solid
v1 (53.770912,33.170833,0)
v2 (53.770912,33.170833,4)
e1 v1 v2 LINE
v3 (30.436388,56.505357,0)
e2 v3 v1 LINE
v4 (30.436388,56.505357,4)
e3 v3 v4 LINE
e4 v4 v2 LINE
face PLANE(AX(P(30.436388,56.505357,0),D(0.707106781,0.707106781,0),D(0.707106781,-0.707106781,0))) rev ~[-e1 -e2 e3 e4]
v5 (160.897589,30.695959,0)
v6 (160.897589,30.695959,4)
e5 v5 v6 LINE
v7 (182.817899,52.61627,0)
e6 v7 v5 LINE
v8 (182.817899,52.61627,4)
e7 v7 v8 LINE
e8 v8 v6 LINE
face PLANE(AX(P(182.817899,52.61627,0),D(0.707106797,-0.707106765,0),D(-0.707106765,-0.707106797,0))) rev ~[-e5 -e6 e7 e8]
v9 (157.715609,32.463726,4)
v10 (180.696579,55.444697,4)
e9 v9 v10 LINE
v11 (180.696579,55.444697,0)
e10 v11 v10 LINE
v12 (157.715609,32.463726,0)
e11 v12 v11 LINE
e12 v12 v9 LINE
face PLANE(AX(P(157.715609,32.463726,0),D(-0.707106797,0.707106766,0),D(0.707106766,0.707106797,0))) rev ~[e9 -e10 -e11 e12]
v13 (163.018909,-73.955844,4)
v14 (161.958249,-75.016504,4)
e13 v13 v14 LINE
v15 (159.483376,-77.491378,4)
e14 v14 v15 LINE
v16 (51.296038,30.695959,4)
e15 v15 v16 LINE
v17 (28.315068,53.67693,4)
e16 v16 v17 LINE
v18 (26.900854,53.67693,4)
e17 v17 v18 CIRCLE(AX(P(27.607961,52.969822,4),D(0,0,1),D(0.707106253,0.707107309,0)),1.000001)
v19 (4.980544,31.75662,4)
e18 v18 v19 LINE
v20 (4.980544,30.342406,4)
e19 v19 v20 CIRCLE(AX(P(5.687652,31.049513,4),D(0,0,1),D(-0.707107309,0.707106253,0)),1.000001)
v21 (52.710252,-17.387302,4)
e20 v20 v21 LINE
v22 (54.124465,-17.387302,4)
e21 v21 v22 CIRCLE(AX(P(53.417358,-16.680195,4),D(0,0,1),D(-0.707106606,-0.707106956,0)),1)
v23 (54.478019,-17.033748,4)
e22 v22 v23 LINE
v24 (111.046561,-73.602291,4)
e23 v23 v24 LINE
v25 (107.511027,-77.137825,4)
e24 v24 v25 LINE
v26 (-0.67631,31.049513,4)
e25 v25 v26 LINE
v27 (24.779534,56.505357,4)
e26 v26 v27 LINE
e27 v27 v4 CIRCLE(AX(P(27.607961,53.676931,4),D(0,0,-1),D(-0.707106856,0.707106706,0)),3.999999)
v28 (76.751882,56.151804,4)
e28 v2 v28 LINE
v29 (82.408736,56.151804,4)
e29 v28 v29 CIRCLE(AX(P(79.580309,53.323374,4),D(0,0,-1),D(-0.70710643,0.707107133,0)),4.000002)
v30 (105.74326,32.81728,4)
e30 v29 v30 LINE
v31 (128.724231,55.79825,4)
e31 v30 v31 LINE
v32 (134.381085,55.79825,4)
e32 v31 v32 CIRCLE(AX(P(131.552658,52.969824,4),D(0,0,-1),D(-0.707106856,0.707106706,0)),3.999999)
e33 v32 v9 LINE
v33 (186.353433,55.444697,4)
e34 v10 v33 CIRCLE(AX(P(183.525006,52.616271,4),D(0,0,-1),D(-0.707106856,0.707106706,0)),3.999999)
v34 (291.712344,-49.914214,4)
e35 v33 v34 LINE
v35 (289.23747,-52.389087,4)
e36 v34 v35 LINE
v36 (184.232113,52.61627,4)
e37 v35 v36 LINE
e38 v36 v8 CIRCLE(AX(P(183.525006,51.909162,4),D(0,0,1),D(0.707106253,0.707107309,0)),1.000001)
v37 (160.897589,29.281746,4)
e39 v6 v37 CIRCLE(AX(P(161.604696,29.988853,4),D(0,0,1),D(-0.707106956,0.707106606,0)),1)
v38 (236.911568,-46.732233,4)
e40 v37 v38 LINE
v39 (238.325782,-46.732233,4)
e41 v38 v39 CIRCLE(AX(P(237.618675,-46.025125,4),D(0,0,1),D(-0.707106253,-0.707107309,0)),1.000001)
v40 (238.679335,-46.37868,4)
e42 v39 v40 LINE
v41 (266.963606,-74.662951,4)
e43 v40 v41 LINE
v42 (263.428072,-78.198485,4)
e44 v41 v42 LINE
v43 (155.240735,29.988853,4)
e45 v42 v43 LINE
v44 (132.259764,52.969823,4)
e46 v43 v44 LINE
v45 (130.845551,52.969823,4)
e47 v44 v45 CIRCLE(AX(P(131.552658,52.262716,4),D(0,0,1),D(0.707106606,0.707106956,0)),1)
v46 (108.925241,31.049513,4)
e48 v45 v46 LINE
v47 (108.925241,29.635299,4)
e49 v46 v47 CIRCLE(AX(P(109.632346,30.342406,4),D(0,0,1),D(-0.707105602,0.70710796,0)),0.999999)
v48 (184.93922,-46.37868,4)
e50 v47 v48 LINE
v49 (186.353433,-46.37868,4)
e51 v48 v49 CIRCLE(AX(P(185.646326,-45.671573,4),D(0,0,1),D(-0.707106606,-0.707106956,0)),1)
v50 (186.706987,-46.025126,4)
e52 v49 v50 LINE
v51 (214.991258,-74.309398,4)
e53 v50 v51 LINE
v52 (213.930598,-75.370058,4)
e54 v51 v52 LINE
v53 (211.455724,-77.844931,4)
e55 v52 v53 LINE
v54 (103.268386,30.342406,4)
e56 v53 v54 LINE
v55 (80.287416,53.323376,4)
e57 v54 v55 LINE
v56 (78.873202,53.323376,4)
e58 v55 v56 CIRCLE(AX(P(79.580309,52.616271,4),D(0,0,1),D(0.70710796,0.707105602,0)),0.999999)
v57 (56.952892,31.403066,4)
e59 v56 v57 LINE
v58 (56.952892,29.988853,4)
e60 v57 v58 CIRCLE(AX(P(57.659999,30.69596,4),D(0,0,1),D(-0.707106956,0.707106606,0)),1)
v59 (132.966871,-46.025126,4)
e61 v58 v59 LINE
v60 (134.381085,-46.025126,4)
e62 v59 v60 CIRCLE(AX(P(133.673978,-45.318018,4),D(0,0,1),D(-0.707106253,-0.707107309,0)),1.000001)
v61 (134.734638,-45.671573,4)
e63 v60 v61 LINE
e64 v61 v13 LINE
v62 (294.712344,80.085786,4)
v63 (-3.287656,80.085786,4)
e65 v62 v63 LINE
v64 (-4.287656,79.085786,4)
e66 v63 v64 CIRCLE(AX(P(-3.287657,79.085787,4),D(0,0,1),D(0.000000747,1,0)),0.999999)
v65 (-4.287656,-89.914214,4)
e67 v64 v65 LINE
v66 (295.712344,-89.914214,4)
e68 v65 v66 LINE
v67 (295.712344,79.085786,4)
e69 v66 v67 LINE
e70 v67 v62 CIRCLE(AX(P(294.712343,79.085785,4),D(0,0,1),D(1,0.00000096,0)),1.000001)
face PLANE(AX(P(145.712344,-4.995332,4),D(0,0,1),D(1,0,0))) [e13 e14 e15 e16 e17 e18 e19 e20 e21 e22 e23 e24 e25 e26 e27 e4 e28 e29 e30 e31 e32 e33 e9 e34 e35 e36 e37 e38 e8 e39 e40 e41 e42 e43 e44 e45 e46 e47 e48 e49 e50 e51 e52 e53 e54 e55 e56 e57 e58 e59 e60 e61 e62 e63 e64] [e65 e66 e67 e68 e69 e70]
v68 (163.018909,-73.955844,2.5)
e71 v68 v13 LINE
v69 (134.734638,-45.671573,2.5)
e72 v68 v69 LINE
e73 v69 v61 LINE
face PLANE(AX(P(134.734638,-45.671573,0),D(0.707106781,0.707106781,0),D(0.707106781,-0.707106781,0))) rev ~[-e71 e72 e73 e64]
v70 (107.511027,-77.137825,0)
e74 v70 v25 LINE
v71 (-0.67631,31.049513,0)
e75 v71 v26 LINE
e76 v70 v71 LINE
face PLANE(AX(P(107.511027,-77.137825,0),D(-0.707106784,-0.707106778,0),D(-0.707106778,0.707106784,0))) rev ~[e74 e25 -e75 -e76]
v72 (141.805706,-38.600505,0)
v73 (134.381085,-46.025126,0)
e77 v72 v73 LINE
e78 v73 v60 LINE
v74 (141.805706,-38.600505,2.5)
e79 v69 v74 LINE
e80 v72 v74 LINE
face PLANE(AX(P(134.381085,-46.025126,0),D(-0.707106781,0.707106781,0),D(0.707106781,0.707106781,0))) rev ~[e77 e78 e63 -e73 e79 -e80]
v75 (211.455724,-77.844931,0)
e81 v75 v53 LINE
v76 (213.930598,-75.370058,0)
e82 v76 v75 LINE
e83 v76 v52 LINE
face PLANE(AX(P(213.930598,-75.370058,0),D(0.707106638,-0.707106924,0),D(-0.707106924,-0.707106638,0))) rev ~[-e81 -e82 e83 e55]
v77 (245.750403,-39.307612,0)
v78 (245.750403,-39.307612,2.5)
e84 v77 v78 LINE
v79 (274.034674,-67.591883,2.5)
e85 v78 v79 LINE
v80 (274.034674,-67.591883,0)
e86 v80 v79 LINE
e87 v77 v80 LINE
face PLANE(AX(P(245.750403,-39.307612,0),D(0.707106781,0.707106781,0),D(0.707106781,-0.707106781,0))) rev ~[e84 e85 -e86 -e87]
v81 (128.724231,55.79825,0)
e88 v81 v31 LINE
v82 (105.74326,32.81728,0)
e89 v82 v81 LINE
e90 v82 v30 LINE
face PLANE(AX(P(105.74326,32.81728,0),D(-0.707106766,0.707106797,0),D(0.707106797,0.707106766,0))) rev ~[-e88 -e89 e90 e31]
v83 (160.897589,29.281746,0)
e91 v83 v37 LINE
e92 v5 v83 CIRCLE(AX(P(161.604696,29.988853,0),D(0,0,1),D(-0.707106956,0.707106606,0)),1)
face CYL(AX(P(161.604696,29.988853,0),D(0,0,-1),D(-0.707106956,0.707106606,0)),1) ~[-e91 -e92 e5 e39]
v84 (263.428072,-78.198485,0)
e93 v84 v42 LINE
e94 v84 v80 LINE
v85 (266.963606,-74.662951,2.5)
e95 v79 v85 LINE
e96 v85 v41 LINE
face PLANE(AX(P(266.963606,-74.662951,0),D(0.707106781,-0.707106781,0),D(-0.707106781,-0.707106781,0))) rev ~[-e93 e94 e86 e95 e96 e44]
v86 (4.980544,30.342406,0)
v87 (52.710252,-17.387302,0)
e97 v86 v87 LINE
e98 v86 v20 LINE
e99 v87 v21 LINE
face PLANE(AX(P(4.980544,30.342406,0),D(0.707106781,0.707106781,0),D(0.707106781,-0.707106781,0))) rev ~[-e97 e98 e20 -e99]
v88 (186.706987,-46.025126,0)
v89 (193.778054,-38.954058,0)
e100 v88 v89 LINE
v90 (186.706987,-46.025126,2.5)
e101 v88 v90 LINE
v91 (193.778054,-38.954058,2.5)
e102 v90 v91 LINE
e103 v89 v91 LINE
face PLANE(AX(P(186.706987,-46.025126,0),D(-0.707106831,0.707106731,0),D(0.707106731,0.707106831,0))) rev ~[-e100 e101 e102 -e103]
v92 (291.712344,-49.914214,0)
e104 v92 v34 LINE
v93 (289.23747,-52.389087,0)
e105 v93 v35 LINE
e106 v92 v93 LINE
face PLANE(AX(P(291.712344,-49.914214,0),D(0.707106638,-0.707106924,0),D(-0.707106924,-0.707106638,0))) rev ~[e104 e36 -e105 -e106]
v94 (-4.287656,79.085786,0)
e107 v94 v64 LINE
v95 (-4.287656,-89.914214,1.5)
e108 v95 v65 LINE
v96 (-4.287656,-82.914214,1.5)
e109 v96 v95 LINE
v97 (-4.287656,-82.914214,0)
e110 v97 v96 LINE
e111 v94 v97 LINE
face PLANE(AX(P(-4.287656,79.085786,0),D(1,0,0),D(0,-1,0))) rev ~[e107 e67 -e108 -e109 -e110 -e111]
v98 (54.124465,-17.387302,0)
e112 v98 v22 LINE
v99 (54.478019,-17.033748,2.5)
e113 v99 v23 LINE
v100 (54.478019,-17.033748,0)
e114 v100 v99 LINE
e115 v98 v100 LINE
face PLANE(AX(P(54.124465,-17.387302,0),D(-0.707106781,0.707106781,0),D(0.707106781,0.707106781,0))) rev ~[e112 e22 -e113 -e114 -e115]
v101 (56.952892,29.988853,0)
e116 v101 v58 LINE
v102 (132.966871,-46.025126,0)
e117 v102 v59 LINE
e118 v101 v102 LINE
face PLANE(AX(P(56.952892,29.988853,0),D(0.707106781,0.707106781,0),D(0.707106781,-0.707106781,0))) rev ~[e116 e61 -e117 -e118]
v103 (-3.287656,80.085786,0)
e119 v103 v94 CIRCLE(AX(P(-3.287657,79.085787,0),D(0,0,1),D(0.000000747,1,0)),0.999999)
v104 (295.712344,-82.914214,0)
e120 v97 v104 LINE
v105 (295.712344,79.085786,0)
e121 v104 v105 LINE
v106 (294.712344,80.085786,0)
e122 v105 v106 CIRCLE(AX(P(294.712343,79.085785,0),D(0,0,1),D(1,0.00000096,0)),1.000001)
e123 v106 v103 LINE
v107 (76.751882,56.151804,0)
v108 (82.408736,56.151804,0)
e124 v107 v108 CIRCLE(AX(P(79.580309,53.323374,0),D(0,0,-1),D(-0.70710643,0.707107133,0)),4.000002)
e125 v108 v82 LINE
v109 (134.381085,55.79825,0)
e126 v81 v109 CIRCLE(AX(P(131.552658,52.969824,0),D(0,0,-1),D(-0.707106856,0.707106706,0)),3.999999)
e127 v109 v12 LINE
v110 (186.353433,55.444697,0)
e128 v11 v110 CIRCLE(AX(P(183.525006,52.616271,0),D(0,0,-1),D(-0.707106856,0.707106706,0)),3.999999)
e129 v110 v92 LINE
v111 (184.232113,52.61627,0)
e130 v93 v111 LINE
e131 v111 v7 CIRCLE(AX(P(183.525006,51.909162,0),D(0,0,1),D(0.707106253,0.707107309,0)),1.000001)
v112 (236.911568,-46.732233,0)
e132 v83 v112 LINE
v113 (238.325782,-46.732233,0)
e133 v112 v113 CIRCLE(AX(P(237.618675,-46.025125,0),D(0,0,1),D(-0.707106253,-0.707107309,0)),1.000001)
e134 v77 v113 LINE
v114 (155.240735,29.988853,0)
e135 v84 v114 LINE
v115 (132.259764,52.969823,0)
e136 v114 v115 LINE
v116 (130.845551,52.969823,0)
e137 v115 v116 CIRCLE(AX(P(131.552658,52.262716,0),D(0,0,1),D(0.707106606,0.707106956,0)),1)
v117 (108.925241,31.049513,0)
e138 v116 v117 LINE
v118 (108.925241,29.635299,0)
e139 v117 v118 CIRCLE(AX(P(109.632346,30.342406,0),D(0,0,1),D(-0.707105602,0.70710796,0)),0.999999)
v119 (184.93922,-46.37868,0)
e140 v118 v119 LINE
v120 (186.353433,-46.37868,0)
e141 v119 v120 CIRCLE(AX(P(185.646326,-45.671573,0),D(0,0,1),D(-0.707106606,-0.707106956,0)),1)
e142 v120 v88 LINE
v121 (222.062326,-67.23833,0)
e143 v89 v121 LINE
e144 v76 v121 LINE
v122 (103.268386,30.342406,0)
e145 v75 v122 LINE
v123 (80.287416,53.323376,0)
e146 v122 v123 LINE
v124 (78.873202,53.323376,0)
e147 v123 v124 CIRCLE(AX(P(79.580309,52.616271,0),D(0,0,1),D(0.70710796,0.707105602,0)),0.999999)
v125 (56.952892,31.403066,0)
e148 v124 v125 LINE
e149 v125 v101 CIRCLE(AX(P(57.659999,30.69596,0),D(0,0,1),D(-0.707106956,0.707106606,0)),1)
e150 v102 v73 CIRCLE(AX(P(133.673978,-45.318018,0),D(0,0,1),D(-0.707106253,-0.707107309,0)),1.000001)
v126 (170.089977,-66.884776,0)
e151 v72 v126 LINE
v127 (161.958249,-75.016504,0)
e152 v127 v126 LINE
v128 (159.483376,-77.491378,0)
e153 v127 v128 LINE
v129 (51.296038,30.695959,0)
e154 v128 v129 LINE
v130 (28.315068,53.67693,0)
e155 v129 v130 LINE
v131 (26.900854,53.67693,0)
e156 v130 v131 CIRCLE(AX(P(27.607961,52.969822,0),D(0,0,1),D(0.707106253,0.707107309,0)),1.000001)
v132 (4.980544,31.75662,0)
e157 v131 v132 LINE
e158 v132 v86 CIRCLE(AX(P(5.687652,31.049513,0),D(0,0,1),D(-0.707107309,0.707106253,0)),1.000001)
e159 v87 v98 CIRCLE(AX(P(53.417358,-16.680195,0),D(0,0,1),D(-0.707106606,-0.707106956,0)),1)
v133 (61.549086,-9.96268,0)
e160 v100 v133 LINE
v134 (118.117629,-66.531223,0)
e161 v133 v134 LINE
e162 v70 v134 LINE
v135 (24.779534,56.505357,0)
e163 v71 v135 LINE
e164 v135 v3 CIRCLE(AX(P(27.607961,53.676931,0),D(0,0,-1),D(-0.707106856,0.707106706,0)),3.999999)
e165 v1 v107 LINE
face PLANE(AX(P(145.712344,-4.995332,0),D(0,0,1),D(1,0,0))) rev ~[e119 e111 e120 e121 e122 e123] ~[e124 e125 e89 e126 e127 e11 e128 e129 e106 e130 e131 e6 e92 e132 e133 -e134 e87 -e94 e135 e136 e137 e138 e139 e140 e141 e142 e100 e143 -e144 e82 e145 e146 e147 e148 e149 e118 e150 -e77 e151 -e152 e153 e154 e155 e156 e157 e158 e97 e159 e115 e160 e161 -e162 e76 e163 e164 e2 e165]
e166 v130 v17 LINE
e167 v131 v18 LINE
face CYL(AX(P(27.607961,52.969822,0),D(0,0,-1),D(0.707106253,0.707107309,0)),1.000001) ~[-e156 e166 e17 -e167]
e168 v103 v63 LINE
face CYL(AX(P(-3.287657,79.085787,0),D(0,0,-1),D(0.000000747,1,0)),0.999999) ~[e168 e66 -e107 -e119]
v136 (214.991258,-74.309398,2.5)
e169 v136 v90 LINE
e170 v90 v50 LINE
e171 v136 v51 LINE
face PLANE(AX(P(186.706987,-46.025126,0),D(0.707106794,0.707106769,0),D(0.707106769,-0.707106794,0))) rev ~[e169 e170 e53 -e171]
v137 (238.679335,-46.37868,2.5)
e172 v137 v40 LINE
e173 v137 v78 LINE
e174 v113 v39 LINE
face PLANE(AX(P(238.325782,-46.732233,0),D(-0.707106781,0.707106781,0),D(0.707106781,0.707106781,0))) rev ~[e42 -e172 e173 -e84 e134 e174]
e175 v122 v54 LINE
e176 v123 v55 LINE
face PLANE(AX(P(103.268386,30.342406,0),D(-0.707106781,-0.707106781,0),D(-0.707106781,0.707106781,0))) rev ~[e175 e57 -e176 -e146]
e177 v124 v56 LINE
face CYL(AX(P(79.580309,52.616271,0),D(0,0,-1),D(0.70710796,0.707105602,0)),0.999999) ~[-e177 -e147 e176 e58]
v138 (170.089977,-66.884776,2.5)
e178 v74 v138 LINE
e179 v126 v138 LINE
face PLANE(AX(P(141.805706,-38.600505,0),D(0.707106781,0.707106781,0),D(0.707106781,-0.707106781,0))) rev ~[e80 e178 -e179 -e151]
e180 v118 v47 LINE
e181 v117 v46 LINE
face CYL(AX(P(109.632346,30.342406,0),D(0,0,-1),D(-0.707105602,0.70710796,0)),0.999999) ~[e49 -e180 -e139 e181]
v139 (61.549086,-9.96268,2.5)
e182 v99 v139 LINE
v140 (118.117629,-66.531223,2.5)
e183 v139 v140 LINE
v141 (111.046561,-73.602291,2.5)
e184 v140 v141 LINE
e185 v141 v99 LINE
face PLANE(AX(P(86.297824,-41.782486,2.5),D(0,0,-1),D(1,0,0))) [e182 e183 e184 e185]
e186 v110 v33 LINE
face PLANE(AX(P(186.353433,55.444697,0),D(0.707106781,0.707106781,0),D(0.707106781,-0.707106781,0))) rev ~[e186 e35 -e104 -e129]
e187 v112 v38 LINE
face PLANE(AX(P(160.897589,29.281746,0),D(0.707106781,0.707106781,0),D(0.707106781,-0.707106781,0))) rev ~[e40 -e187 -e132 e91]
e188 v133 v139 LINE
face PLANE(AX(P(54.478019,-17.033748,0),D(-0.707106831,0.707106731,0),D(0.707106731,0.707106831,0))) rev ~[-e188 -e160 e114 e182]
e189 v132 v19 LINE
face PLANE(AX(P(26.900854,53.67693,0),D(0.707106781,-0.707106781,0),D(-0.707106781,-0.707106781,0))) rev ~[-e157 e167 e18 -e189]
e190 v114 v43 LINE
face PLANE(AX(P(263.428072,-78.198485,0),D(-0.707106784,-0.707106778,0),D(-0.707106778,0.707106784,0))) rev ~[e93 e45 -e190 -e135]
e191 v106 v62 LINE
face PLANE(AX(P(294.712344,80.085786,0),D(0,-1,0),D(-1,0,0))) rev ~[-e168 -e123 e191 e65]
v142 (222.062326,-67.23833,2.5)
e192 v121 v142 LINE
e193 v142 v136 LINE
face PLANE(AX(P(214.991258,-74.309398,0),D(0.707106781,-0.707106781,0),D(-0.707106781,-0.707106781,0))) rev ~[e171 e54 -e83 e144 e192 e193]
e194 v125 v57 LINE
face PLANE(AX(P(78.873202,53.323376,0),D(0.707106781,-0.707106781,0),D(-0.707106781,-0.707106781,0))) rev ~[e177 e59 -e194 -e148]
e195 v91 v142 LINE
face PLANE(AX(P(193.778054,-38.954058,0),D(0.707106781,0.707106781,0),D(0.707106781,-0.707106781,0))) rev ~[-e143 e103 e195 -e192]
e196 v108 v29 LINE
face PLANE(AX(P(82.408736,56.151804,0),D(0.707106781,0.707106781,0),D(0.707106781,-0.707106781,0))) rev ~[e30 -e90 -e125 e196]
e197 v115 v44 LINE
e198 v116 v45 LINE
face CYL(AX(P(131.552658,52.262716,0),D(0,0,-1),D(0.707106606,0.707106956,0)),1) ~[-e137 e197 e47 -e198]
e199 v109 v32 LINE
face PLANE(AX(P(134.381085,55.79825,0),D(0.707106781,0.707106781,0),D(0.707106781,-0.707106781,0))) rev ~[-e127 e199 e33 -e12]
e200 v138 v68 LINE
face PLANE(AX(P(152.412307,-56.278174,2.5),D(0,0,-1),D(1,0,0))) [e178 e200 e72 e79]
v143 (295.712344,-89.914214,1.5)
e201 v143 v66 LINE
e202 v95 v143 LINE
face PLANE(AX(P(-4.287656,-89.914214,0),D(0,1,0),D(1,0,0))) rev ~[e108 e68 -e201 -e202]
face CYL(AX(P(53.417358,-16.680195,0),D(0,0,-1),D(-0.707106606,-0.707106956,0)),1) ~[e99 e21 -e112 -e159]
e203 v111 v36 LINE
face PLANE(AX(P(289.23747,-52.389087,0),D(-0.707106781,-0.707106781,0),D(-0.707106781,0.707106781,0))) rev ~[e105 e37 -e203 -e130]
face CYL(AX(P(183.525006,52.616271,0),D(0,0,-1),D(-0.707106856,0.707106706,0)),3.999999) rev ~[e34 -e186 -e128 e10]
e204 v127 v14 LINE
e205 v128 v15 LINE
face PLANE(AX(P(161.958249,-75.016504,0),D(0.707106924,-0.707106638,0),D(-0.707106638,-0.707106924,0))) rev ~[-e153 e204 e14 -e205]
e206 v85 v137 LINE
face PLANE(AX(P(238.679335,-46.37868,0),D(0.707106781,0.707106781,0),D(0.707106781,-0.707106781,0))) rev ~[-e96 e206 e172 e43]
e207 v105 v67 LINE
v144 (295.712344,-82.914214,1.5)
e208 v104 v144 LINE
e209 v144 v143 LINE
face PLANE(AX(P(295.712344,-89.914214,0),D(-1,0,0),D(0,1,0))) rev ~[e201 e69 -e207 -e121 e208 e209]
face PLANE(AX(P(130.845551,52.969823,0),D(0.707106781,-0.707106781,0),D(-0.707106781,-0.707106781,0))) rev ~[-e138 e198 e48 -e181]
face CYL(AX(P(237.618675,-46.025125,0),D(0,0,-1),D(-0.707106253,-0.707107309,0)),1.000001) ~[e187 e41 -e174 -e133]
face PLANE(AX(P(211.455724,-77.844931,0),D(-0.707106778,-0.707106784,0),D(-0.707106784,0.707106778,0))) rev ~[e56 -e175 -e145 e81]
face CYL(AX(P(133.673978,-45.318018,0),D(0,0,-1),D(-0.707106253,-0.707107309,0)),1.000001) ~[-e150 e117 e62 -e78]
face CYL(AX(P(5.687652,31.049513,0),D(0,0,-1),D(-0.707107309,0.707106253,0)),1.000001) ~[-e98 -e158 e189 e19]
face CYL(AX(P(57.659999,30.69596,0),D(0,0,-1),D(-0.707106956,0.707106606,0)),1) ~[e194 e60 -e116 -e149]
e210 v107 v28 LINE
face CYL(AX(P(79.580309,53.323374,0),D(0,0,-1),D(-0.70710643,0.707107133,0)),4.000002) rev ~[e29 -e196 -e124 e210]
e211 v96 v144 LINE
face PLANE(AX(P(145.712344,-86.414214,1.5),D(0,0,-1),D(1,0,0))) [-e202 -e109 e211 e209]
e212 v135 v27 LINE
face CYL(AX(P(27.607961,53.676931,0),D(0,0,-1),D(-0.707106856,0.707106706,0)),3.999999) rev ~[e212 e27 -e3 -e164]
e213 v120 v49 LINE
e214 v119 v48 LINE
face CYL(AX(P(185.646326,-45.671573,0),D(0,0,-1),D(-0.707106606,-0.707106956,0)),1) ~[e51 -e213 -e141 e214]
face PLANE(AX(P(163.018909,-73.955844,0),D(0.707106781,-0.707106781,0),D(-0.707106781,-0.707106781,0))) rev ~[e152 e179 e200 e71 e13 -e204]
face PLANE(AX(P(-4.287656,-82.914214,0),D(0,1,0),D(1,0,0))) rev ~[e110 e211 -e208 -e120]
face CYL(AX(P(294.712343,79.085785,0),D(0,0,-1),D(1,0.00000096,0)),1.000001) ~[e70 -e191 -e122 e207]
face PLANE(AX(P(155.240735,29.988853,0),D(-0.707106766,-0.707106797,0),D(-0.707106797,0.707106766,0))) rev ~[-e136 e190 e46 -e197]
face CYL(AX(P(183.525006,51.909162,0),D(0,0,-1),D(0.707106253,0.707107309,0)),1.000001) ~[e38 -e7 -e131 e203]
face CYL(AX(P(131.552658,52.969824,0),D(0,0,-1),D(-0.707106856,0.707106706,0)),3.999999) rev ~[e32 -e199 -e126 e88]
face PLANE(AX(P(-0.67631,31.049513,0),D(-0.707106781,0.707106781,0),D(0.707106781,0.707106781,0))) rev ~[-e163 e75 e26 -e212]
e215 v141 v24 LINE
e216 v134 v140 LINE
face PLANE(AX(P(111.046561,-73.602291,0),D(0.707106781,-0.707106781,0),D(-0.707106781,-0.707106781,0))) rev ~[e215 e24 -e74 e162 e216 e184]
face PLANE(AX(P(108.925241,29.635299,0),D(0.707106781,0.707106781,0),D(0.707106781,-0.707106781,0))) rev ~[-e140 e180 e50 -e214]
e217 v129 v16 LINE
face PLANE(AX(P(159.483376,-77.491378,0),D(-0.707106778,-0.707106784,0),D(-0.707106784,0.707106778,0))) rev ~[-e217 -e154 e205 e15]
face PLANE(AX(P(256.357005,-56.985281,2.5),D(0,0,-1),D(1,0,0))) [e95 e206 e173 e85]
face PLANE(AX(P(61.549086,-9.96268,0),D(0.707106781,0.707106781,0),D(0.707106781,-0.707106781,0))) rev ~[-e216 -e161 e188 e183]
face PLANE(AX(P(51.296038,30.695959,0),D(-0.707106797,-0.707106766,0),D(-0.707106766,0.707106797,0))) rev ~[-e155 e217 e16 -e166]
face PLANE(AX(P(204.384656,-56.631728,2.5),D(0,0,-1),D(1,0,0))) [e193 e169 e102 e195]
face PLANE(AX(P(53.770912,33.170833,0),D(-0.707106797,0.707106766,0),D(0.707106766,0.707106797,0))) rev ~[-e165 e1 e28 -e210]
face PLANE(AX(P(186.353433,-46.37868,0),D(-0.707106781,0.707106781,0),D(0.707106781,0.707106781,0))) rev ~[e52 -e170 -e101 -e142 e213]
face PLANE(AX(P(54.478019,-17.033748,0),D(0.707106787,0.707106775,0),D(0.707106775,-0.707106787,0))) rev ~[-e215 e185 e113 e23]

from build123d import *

# Parameters (mm, degrees)
F1_DEPTH = 4
F2_W     = 300
F2_H     = 7
F3_DEPTH = 1.5
F4_DEPTH = 2.5


with BuildPart() as f1:
    # F0 (on Top) → F1 (new body)
    with BuildSketch(Plane.XY):
        with BuildLine():
            Line((-4.287656, -89.914214), (295.712344, -89.914214))
            Line((295.712344, -89.914214), (295.712344, 79.085786))
            ThreePointArc((295.712344, 79.085786), (295.41945, 79.792893), (294.712344, 80.085786))
            Line((294.712344, 80.085786), (-3.287656, 80.085786))
            ThreePointArc((-3.287656, 80.085786), (-3.994763, 79.792893), (-4.287656, 79.085786))
            Line((-4.287656, 79.085786), (-4.287656, -89.914214))
        make_face()
        with BuildLine():
            ThreePointArc((180.696579, 55.444697), (183.525006, 56.61627), (186.353433, 55.444697))
            Line((186.353433, 55.444697), (291.712344, -49.914214))
            Line((291.712344, -49.914214), (289.23747, -52.389087))
            Line((289.23747, -52.389087), (184.232113, 52.61627))
            ThreePointArc((184.232113, 52.61627), (183.525006, 52.909163), (182.817899, 52.61627))
            Line((182.817899, 52.61627), (160.897589, 30.695959))
            ThreePointArc((160.897589, 30.695959), (160.604696, 29.988853), (160.897589, 29.281746))
            Line((160.897589, 29.281746), (236.911568, -46.732233))
            ThreePointArc((236.911568, -46.732233), (237.618675, -47.025126), (238.325782, -46.732233))
            Line((238.325782, -46.732233), (238.679335, -46.37868))
            Line((238.679335, -46.37868), (266.963606, -74.662951))
            Line((266.963606, -74.662951), (265.902946, -75.723611))
            Line((265.902946, -75.723611), (263.428072, -78.198485))
            Line((263.428072, -78.198485), (155.240735, 29.988853))
            Line((155.240735, 29.988853), (132.259764, 52.969823))
            ThreePointArc((132.259764, 52.969823), (131.552658, 53.262716), (130.845551, 52.969823))
            Line((130.845551, 52.969823), (108.925241, 31.049513))
            ThreePointArc((108.925241, 31.049513), (108.632347, 30.342406), (108.925241, 29.635299))
            Line((108.925241, 29.635299), (184.93922, -46.37868))
            ThreePointArc((184.93922, -46.37868), (185.646326, -46.671573), (186.353433, -46.37868))
            Line((186.353433, -46.37868), (186.706987, -46.025126))
            Line((186.706987, -46.025126), (214.991258, -74.309398))
            Line((214.991258, -74.309398), (213.930598, -75.370058))
            Line((213.930598, -75.370058), (211.455724, -77.844931))
            Line((211.455724, -77.844931), (103.268386, 30.342406))
            Line((103.268386, 30.342406), (80.287416, 53.323376))
            ThreePointArc((80.287416, 53.323376), (79.580309, 53.61627), (78.873202, 53.323376))
            Line((78.873202, 53.323376), (56.952892, 31.403066))
            ThreePointArc((56.952892, 31.403066), (56.659999, 30.695959), (56.952892, 29.988853))
            Line((56.952892, 29.988853), (132.966871, -46.025126))
            ThreePointArc((132.966871, -46.025126), (133.673978, -46.318019), (134.381085, -46.025126))
            Line((134.381085, -46.025126), (134.734638, -45.671573))
            Line((134.734638, -45.671573), (163.018909, -73.955844))
            Line((163.018909, -73.955844), (161.958249, -75.016504))
            Line((161.958249, -75.016504), (159.483376, -77.491378))
            Line((159.483376, -77.491378), (51.296038, 30.695959))
            Line((51.296038, 30.695959), (28.315068, 53.67693))
            ThreePointArc((28.315068, 53.67693), (27.607961, 53.969823), (26.900854, 53.67693))
            Line((26.900854, 53.67693), (4.980544, 31.75662))
            ThreePointArc((4.980544, 31.75662), (4.687651, 31.049513), (4.980544, 30.342406))
            Line((4.980544, 30.342406), (52.710252, -17.387302))
            ThreePointArc((52.710252, -17.387302), (53.417358, -17.680195), (54.124465, -17.387302))
            Line((54.124465, -17.387302), (54.478019, -17.033748))
            Line((54.478019, -17.033748), (111.046561, -73.602291))
            Line((111.046561, -73.602291), (109.985901, -74.662951))
            Line((109.985901, -74.662951), (107.511027, -77.137825))
            Line((107.511027, -77.137825), (-0.67631, 31.049513))
            Line((-0.67631, 31.049513), (24.779534, 56.505357))
            ThreePointArc((24.779534, 56.505357), (27.607961, 57.67693), (30.436388, 56.505357))
            Line((30.436388, 56.505357), (53.770912, 33.170833))
            Line((53.770912, 33.170833), (76.751882, 56.151804))
            ThreePointArc((76.751882, 56.151804), (79.580309, 57.323376), (82.408736, 56.151804))
            Line((82.408736, 56.151804), (105.74326, 32.81728))
            Line((105.74326, 32.81728), (128.724231, 55.79825))
            ThreePointArc((128.724231, 55.79825), (131.552658, 56.969823), (134.381085, 55.79825))
            Line((134.381085, 55.79825), (157.715609, 32.463726))
            Line((157.715609, 32.463726), (180.696579, 55.444697))
        make_face(mode=Mode.SUBTRACT)
    extrude(amount=F1_DEPTH)

    # F2 (on face) → F3 (cut)
    with BuildSketch(Plane(origin=(0, 0, 0), x_dir=(1, 0, 0), z_dir=(0, 0, -1))):
        with Locations((145.712344, 86.414214)):
            Rectangle(F2_W, F2_H)
    extrude(amount=-F3_DEPTH, mode=Mode.SUBTRACT)

    # F2 (on face) → F4 (cut)
    with BuildSketch(Plane(origin=(0, 0, 0), x_dir=(1, 0, 0), z_dir=(0, 0, -1))):
        Polygon((118.117629, 66.531223), (111.046561, 73.602291), (54.478019, 17.033748), (61.549086, 9.96268), align=None)
        Polygon((170.089977, 66.884776), (163.018909, 73.955844), (134.734638, 45.671573), (141.805706, 38.600505), align=None)
        Polygon((222.062326, 67.23833), (214.991258, 74.309398), (186.706987, 46.025126), (193.778054, 38.954058), align=None)
        Polygon((274.034674, 67.591883), (266.963606, 74.662951), (238.679335, 46.37868), (245.750403, 39.307612), align=None)
    extrude(amount=-F4_DEPTH, mode=Mode.SUBTRACT)


solid = f1.part
